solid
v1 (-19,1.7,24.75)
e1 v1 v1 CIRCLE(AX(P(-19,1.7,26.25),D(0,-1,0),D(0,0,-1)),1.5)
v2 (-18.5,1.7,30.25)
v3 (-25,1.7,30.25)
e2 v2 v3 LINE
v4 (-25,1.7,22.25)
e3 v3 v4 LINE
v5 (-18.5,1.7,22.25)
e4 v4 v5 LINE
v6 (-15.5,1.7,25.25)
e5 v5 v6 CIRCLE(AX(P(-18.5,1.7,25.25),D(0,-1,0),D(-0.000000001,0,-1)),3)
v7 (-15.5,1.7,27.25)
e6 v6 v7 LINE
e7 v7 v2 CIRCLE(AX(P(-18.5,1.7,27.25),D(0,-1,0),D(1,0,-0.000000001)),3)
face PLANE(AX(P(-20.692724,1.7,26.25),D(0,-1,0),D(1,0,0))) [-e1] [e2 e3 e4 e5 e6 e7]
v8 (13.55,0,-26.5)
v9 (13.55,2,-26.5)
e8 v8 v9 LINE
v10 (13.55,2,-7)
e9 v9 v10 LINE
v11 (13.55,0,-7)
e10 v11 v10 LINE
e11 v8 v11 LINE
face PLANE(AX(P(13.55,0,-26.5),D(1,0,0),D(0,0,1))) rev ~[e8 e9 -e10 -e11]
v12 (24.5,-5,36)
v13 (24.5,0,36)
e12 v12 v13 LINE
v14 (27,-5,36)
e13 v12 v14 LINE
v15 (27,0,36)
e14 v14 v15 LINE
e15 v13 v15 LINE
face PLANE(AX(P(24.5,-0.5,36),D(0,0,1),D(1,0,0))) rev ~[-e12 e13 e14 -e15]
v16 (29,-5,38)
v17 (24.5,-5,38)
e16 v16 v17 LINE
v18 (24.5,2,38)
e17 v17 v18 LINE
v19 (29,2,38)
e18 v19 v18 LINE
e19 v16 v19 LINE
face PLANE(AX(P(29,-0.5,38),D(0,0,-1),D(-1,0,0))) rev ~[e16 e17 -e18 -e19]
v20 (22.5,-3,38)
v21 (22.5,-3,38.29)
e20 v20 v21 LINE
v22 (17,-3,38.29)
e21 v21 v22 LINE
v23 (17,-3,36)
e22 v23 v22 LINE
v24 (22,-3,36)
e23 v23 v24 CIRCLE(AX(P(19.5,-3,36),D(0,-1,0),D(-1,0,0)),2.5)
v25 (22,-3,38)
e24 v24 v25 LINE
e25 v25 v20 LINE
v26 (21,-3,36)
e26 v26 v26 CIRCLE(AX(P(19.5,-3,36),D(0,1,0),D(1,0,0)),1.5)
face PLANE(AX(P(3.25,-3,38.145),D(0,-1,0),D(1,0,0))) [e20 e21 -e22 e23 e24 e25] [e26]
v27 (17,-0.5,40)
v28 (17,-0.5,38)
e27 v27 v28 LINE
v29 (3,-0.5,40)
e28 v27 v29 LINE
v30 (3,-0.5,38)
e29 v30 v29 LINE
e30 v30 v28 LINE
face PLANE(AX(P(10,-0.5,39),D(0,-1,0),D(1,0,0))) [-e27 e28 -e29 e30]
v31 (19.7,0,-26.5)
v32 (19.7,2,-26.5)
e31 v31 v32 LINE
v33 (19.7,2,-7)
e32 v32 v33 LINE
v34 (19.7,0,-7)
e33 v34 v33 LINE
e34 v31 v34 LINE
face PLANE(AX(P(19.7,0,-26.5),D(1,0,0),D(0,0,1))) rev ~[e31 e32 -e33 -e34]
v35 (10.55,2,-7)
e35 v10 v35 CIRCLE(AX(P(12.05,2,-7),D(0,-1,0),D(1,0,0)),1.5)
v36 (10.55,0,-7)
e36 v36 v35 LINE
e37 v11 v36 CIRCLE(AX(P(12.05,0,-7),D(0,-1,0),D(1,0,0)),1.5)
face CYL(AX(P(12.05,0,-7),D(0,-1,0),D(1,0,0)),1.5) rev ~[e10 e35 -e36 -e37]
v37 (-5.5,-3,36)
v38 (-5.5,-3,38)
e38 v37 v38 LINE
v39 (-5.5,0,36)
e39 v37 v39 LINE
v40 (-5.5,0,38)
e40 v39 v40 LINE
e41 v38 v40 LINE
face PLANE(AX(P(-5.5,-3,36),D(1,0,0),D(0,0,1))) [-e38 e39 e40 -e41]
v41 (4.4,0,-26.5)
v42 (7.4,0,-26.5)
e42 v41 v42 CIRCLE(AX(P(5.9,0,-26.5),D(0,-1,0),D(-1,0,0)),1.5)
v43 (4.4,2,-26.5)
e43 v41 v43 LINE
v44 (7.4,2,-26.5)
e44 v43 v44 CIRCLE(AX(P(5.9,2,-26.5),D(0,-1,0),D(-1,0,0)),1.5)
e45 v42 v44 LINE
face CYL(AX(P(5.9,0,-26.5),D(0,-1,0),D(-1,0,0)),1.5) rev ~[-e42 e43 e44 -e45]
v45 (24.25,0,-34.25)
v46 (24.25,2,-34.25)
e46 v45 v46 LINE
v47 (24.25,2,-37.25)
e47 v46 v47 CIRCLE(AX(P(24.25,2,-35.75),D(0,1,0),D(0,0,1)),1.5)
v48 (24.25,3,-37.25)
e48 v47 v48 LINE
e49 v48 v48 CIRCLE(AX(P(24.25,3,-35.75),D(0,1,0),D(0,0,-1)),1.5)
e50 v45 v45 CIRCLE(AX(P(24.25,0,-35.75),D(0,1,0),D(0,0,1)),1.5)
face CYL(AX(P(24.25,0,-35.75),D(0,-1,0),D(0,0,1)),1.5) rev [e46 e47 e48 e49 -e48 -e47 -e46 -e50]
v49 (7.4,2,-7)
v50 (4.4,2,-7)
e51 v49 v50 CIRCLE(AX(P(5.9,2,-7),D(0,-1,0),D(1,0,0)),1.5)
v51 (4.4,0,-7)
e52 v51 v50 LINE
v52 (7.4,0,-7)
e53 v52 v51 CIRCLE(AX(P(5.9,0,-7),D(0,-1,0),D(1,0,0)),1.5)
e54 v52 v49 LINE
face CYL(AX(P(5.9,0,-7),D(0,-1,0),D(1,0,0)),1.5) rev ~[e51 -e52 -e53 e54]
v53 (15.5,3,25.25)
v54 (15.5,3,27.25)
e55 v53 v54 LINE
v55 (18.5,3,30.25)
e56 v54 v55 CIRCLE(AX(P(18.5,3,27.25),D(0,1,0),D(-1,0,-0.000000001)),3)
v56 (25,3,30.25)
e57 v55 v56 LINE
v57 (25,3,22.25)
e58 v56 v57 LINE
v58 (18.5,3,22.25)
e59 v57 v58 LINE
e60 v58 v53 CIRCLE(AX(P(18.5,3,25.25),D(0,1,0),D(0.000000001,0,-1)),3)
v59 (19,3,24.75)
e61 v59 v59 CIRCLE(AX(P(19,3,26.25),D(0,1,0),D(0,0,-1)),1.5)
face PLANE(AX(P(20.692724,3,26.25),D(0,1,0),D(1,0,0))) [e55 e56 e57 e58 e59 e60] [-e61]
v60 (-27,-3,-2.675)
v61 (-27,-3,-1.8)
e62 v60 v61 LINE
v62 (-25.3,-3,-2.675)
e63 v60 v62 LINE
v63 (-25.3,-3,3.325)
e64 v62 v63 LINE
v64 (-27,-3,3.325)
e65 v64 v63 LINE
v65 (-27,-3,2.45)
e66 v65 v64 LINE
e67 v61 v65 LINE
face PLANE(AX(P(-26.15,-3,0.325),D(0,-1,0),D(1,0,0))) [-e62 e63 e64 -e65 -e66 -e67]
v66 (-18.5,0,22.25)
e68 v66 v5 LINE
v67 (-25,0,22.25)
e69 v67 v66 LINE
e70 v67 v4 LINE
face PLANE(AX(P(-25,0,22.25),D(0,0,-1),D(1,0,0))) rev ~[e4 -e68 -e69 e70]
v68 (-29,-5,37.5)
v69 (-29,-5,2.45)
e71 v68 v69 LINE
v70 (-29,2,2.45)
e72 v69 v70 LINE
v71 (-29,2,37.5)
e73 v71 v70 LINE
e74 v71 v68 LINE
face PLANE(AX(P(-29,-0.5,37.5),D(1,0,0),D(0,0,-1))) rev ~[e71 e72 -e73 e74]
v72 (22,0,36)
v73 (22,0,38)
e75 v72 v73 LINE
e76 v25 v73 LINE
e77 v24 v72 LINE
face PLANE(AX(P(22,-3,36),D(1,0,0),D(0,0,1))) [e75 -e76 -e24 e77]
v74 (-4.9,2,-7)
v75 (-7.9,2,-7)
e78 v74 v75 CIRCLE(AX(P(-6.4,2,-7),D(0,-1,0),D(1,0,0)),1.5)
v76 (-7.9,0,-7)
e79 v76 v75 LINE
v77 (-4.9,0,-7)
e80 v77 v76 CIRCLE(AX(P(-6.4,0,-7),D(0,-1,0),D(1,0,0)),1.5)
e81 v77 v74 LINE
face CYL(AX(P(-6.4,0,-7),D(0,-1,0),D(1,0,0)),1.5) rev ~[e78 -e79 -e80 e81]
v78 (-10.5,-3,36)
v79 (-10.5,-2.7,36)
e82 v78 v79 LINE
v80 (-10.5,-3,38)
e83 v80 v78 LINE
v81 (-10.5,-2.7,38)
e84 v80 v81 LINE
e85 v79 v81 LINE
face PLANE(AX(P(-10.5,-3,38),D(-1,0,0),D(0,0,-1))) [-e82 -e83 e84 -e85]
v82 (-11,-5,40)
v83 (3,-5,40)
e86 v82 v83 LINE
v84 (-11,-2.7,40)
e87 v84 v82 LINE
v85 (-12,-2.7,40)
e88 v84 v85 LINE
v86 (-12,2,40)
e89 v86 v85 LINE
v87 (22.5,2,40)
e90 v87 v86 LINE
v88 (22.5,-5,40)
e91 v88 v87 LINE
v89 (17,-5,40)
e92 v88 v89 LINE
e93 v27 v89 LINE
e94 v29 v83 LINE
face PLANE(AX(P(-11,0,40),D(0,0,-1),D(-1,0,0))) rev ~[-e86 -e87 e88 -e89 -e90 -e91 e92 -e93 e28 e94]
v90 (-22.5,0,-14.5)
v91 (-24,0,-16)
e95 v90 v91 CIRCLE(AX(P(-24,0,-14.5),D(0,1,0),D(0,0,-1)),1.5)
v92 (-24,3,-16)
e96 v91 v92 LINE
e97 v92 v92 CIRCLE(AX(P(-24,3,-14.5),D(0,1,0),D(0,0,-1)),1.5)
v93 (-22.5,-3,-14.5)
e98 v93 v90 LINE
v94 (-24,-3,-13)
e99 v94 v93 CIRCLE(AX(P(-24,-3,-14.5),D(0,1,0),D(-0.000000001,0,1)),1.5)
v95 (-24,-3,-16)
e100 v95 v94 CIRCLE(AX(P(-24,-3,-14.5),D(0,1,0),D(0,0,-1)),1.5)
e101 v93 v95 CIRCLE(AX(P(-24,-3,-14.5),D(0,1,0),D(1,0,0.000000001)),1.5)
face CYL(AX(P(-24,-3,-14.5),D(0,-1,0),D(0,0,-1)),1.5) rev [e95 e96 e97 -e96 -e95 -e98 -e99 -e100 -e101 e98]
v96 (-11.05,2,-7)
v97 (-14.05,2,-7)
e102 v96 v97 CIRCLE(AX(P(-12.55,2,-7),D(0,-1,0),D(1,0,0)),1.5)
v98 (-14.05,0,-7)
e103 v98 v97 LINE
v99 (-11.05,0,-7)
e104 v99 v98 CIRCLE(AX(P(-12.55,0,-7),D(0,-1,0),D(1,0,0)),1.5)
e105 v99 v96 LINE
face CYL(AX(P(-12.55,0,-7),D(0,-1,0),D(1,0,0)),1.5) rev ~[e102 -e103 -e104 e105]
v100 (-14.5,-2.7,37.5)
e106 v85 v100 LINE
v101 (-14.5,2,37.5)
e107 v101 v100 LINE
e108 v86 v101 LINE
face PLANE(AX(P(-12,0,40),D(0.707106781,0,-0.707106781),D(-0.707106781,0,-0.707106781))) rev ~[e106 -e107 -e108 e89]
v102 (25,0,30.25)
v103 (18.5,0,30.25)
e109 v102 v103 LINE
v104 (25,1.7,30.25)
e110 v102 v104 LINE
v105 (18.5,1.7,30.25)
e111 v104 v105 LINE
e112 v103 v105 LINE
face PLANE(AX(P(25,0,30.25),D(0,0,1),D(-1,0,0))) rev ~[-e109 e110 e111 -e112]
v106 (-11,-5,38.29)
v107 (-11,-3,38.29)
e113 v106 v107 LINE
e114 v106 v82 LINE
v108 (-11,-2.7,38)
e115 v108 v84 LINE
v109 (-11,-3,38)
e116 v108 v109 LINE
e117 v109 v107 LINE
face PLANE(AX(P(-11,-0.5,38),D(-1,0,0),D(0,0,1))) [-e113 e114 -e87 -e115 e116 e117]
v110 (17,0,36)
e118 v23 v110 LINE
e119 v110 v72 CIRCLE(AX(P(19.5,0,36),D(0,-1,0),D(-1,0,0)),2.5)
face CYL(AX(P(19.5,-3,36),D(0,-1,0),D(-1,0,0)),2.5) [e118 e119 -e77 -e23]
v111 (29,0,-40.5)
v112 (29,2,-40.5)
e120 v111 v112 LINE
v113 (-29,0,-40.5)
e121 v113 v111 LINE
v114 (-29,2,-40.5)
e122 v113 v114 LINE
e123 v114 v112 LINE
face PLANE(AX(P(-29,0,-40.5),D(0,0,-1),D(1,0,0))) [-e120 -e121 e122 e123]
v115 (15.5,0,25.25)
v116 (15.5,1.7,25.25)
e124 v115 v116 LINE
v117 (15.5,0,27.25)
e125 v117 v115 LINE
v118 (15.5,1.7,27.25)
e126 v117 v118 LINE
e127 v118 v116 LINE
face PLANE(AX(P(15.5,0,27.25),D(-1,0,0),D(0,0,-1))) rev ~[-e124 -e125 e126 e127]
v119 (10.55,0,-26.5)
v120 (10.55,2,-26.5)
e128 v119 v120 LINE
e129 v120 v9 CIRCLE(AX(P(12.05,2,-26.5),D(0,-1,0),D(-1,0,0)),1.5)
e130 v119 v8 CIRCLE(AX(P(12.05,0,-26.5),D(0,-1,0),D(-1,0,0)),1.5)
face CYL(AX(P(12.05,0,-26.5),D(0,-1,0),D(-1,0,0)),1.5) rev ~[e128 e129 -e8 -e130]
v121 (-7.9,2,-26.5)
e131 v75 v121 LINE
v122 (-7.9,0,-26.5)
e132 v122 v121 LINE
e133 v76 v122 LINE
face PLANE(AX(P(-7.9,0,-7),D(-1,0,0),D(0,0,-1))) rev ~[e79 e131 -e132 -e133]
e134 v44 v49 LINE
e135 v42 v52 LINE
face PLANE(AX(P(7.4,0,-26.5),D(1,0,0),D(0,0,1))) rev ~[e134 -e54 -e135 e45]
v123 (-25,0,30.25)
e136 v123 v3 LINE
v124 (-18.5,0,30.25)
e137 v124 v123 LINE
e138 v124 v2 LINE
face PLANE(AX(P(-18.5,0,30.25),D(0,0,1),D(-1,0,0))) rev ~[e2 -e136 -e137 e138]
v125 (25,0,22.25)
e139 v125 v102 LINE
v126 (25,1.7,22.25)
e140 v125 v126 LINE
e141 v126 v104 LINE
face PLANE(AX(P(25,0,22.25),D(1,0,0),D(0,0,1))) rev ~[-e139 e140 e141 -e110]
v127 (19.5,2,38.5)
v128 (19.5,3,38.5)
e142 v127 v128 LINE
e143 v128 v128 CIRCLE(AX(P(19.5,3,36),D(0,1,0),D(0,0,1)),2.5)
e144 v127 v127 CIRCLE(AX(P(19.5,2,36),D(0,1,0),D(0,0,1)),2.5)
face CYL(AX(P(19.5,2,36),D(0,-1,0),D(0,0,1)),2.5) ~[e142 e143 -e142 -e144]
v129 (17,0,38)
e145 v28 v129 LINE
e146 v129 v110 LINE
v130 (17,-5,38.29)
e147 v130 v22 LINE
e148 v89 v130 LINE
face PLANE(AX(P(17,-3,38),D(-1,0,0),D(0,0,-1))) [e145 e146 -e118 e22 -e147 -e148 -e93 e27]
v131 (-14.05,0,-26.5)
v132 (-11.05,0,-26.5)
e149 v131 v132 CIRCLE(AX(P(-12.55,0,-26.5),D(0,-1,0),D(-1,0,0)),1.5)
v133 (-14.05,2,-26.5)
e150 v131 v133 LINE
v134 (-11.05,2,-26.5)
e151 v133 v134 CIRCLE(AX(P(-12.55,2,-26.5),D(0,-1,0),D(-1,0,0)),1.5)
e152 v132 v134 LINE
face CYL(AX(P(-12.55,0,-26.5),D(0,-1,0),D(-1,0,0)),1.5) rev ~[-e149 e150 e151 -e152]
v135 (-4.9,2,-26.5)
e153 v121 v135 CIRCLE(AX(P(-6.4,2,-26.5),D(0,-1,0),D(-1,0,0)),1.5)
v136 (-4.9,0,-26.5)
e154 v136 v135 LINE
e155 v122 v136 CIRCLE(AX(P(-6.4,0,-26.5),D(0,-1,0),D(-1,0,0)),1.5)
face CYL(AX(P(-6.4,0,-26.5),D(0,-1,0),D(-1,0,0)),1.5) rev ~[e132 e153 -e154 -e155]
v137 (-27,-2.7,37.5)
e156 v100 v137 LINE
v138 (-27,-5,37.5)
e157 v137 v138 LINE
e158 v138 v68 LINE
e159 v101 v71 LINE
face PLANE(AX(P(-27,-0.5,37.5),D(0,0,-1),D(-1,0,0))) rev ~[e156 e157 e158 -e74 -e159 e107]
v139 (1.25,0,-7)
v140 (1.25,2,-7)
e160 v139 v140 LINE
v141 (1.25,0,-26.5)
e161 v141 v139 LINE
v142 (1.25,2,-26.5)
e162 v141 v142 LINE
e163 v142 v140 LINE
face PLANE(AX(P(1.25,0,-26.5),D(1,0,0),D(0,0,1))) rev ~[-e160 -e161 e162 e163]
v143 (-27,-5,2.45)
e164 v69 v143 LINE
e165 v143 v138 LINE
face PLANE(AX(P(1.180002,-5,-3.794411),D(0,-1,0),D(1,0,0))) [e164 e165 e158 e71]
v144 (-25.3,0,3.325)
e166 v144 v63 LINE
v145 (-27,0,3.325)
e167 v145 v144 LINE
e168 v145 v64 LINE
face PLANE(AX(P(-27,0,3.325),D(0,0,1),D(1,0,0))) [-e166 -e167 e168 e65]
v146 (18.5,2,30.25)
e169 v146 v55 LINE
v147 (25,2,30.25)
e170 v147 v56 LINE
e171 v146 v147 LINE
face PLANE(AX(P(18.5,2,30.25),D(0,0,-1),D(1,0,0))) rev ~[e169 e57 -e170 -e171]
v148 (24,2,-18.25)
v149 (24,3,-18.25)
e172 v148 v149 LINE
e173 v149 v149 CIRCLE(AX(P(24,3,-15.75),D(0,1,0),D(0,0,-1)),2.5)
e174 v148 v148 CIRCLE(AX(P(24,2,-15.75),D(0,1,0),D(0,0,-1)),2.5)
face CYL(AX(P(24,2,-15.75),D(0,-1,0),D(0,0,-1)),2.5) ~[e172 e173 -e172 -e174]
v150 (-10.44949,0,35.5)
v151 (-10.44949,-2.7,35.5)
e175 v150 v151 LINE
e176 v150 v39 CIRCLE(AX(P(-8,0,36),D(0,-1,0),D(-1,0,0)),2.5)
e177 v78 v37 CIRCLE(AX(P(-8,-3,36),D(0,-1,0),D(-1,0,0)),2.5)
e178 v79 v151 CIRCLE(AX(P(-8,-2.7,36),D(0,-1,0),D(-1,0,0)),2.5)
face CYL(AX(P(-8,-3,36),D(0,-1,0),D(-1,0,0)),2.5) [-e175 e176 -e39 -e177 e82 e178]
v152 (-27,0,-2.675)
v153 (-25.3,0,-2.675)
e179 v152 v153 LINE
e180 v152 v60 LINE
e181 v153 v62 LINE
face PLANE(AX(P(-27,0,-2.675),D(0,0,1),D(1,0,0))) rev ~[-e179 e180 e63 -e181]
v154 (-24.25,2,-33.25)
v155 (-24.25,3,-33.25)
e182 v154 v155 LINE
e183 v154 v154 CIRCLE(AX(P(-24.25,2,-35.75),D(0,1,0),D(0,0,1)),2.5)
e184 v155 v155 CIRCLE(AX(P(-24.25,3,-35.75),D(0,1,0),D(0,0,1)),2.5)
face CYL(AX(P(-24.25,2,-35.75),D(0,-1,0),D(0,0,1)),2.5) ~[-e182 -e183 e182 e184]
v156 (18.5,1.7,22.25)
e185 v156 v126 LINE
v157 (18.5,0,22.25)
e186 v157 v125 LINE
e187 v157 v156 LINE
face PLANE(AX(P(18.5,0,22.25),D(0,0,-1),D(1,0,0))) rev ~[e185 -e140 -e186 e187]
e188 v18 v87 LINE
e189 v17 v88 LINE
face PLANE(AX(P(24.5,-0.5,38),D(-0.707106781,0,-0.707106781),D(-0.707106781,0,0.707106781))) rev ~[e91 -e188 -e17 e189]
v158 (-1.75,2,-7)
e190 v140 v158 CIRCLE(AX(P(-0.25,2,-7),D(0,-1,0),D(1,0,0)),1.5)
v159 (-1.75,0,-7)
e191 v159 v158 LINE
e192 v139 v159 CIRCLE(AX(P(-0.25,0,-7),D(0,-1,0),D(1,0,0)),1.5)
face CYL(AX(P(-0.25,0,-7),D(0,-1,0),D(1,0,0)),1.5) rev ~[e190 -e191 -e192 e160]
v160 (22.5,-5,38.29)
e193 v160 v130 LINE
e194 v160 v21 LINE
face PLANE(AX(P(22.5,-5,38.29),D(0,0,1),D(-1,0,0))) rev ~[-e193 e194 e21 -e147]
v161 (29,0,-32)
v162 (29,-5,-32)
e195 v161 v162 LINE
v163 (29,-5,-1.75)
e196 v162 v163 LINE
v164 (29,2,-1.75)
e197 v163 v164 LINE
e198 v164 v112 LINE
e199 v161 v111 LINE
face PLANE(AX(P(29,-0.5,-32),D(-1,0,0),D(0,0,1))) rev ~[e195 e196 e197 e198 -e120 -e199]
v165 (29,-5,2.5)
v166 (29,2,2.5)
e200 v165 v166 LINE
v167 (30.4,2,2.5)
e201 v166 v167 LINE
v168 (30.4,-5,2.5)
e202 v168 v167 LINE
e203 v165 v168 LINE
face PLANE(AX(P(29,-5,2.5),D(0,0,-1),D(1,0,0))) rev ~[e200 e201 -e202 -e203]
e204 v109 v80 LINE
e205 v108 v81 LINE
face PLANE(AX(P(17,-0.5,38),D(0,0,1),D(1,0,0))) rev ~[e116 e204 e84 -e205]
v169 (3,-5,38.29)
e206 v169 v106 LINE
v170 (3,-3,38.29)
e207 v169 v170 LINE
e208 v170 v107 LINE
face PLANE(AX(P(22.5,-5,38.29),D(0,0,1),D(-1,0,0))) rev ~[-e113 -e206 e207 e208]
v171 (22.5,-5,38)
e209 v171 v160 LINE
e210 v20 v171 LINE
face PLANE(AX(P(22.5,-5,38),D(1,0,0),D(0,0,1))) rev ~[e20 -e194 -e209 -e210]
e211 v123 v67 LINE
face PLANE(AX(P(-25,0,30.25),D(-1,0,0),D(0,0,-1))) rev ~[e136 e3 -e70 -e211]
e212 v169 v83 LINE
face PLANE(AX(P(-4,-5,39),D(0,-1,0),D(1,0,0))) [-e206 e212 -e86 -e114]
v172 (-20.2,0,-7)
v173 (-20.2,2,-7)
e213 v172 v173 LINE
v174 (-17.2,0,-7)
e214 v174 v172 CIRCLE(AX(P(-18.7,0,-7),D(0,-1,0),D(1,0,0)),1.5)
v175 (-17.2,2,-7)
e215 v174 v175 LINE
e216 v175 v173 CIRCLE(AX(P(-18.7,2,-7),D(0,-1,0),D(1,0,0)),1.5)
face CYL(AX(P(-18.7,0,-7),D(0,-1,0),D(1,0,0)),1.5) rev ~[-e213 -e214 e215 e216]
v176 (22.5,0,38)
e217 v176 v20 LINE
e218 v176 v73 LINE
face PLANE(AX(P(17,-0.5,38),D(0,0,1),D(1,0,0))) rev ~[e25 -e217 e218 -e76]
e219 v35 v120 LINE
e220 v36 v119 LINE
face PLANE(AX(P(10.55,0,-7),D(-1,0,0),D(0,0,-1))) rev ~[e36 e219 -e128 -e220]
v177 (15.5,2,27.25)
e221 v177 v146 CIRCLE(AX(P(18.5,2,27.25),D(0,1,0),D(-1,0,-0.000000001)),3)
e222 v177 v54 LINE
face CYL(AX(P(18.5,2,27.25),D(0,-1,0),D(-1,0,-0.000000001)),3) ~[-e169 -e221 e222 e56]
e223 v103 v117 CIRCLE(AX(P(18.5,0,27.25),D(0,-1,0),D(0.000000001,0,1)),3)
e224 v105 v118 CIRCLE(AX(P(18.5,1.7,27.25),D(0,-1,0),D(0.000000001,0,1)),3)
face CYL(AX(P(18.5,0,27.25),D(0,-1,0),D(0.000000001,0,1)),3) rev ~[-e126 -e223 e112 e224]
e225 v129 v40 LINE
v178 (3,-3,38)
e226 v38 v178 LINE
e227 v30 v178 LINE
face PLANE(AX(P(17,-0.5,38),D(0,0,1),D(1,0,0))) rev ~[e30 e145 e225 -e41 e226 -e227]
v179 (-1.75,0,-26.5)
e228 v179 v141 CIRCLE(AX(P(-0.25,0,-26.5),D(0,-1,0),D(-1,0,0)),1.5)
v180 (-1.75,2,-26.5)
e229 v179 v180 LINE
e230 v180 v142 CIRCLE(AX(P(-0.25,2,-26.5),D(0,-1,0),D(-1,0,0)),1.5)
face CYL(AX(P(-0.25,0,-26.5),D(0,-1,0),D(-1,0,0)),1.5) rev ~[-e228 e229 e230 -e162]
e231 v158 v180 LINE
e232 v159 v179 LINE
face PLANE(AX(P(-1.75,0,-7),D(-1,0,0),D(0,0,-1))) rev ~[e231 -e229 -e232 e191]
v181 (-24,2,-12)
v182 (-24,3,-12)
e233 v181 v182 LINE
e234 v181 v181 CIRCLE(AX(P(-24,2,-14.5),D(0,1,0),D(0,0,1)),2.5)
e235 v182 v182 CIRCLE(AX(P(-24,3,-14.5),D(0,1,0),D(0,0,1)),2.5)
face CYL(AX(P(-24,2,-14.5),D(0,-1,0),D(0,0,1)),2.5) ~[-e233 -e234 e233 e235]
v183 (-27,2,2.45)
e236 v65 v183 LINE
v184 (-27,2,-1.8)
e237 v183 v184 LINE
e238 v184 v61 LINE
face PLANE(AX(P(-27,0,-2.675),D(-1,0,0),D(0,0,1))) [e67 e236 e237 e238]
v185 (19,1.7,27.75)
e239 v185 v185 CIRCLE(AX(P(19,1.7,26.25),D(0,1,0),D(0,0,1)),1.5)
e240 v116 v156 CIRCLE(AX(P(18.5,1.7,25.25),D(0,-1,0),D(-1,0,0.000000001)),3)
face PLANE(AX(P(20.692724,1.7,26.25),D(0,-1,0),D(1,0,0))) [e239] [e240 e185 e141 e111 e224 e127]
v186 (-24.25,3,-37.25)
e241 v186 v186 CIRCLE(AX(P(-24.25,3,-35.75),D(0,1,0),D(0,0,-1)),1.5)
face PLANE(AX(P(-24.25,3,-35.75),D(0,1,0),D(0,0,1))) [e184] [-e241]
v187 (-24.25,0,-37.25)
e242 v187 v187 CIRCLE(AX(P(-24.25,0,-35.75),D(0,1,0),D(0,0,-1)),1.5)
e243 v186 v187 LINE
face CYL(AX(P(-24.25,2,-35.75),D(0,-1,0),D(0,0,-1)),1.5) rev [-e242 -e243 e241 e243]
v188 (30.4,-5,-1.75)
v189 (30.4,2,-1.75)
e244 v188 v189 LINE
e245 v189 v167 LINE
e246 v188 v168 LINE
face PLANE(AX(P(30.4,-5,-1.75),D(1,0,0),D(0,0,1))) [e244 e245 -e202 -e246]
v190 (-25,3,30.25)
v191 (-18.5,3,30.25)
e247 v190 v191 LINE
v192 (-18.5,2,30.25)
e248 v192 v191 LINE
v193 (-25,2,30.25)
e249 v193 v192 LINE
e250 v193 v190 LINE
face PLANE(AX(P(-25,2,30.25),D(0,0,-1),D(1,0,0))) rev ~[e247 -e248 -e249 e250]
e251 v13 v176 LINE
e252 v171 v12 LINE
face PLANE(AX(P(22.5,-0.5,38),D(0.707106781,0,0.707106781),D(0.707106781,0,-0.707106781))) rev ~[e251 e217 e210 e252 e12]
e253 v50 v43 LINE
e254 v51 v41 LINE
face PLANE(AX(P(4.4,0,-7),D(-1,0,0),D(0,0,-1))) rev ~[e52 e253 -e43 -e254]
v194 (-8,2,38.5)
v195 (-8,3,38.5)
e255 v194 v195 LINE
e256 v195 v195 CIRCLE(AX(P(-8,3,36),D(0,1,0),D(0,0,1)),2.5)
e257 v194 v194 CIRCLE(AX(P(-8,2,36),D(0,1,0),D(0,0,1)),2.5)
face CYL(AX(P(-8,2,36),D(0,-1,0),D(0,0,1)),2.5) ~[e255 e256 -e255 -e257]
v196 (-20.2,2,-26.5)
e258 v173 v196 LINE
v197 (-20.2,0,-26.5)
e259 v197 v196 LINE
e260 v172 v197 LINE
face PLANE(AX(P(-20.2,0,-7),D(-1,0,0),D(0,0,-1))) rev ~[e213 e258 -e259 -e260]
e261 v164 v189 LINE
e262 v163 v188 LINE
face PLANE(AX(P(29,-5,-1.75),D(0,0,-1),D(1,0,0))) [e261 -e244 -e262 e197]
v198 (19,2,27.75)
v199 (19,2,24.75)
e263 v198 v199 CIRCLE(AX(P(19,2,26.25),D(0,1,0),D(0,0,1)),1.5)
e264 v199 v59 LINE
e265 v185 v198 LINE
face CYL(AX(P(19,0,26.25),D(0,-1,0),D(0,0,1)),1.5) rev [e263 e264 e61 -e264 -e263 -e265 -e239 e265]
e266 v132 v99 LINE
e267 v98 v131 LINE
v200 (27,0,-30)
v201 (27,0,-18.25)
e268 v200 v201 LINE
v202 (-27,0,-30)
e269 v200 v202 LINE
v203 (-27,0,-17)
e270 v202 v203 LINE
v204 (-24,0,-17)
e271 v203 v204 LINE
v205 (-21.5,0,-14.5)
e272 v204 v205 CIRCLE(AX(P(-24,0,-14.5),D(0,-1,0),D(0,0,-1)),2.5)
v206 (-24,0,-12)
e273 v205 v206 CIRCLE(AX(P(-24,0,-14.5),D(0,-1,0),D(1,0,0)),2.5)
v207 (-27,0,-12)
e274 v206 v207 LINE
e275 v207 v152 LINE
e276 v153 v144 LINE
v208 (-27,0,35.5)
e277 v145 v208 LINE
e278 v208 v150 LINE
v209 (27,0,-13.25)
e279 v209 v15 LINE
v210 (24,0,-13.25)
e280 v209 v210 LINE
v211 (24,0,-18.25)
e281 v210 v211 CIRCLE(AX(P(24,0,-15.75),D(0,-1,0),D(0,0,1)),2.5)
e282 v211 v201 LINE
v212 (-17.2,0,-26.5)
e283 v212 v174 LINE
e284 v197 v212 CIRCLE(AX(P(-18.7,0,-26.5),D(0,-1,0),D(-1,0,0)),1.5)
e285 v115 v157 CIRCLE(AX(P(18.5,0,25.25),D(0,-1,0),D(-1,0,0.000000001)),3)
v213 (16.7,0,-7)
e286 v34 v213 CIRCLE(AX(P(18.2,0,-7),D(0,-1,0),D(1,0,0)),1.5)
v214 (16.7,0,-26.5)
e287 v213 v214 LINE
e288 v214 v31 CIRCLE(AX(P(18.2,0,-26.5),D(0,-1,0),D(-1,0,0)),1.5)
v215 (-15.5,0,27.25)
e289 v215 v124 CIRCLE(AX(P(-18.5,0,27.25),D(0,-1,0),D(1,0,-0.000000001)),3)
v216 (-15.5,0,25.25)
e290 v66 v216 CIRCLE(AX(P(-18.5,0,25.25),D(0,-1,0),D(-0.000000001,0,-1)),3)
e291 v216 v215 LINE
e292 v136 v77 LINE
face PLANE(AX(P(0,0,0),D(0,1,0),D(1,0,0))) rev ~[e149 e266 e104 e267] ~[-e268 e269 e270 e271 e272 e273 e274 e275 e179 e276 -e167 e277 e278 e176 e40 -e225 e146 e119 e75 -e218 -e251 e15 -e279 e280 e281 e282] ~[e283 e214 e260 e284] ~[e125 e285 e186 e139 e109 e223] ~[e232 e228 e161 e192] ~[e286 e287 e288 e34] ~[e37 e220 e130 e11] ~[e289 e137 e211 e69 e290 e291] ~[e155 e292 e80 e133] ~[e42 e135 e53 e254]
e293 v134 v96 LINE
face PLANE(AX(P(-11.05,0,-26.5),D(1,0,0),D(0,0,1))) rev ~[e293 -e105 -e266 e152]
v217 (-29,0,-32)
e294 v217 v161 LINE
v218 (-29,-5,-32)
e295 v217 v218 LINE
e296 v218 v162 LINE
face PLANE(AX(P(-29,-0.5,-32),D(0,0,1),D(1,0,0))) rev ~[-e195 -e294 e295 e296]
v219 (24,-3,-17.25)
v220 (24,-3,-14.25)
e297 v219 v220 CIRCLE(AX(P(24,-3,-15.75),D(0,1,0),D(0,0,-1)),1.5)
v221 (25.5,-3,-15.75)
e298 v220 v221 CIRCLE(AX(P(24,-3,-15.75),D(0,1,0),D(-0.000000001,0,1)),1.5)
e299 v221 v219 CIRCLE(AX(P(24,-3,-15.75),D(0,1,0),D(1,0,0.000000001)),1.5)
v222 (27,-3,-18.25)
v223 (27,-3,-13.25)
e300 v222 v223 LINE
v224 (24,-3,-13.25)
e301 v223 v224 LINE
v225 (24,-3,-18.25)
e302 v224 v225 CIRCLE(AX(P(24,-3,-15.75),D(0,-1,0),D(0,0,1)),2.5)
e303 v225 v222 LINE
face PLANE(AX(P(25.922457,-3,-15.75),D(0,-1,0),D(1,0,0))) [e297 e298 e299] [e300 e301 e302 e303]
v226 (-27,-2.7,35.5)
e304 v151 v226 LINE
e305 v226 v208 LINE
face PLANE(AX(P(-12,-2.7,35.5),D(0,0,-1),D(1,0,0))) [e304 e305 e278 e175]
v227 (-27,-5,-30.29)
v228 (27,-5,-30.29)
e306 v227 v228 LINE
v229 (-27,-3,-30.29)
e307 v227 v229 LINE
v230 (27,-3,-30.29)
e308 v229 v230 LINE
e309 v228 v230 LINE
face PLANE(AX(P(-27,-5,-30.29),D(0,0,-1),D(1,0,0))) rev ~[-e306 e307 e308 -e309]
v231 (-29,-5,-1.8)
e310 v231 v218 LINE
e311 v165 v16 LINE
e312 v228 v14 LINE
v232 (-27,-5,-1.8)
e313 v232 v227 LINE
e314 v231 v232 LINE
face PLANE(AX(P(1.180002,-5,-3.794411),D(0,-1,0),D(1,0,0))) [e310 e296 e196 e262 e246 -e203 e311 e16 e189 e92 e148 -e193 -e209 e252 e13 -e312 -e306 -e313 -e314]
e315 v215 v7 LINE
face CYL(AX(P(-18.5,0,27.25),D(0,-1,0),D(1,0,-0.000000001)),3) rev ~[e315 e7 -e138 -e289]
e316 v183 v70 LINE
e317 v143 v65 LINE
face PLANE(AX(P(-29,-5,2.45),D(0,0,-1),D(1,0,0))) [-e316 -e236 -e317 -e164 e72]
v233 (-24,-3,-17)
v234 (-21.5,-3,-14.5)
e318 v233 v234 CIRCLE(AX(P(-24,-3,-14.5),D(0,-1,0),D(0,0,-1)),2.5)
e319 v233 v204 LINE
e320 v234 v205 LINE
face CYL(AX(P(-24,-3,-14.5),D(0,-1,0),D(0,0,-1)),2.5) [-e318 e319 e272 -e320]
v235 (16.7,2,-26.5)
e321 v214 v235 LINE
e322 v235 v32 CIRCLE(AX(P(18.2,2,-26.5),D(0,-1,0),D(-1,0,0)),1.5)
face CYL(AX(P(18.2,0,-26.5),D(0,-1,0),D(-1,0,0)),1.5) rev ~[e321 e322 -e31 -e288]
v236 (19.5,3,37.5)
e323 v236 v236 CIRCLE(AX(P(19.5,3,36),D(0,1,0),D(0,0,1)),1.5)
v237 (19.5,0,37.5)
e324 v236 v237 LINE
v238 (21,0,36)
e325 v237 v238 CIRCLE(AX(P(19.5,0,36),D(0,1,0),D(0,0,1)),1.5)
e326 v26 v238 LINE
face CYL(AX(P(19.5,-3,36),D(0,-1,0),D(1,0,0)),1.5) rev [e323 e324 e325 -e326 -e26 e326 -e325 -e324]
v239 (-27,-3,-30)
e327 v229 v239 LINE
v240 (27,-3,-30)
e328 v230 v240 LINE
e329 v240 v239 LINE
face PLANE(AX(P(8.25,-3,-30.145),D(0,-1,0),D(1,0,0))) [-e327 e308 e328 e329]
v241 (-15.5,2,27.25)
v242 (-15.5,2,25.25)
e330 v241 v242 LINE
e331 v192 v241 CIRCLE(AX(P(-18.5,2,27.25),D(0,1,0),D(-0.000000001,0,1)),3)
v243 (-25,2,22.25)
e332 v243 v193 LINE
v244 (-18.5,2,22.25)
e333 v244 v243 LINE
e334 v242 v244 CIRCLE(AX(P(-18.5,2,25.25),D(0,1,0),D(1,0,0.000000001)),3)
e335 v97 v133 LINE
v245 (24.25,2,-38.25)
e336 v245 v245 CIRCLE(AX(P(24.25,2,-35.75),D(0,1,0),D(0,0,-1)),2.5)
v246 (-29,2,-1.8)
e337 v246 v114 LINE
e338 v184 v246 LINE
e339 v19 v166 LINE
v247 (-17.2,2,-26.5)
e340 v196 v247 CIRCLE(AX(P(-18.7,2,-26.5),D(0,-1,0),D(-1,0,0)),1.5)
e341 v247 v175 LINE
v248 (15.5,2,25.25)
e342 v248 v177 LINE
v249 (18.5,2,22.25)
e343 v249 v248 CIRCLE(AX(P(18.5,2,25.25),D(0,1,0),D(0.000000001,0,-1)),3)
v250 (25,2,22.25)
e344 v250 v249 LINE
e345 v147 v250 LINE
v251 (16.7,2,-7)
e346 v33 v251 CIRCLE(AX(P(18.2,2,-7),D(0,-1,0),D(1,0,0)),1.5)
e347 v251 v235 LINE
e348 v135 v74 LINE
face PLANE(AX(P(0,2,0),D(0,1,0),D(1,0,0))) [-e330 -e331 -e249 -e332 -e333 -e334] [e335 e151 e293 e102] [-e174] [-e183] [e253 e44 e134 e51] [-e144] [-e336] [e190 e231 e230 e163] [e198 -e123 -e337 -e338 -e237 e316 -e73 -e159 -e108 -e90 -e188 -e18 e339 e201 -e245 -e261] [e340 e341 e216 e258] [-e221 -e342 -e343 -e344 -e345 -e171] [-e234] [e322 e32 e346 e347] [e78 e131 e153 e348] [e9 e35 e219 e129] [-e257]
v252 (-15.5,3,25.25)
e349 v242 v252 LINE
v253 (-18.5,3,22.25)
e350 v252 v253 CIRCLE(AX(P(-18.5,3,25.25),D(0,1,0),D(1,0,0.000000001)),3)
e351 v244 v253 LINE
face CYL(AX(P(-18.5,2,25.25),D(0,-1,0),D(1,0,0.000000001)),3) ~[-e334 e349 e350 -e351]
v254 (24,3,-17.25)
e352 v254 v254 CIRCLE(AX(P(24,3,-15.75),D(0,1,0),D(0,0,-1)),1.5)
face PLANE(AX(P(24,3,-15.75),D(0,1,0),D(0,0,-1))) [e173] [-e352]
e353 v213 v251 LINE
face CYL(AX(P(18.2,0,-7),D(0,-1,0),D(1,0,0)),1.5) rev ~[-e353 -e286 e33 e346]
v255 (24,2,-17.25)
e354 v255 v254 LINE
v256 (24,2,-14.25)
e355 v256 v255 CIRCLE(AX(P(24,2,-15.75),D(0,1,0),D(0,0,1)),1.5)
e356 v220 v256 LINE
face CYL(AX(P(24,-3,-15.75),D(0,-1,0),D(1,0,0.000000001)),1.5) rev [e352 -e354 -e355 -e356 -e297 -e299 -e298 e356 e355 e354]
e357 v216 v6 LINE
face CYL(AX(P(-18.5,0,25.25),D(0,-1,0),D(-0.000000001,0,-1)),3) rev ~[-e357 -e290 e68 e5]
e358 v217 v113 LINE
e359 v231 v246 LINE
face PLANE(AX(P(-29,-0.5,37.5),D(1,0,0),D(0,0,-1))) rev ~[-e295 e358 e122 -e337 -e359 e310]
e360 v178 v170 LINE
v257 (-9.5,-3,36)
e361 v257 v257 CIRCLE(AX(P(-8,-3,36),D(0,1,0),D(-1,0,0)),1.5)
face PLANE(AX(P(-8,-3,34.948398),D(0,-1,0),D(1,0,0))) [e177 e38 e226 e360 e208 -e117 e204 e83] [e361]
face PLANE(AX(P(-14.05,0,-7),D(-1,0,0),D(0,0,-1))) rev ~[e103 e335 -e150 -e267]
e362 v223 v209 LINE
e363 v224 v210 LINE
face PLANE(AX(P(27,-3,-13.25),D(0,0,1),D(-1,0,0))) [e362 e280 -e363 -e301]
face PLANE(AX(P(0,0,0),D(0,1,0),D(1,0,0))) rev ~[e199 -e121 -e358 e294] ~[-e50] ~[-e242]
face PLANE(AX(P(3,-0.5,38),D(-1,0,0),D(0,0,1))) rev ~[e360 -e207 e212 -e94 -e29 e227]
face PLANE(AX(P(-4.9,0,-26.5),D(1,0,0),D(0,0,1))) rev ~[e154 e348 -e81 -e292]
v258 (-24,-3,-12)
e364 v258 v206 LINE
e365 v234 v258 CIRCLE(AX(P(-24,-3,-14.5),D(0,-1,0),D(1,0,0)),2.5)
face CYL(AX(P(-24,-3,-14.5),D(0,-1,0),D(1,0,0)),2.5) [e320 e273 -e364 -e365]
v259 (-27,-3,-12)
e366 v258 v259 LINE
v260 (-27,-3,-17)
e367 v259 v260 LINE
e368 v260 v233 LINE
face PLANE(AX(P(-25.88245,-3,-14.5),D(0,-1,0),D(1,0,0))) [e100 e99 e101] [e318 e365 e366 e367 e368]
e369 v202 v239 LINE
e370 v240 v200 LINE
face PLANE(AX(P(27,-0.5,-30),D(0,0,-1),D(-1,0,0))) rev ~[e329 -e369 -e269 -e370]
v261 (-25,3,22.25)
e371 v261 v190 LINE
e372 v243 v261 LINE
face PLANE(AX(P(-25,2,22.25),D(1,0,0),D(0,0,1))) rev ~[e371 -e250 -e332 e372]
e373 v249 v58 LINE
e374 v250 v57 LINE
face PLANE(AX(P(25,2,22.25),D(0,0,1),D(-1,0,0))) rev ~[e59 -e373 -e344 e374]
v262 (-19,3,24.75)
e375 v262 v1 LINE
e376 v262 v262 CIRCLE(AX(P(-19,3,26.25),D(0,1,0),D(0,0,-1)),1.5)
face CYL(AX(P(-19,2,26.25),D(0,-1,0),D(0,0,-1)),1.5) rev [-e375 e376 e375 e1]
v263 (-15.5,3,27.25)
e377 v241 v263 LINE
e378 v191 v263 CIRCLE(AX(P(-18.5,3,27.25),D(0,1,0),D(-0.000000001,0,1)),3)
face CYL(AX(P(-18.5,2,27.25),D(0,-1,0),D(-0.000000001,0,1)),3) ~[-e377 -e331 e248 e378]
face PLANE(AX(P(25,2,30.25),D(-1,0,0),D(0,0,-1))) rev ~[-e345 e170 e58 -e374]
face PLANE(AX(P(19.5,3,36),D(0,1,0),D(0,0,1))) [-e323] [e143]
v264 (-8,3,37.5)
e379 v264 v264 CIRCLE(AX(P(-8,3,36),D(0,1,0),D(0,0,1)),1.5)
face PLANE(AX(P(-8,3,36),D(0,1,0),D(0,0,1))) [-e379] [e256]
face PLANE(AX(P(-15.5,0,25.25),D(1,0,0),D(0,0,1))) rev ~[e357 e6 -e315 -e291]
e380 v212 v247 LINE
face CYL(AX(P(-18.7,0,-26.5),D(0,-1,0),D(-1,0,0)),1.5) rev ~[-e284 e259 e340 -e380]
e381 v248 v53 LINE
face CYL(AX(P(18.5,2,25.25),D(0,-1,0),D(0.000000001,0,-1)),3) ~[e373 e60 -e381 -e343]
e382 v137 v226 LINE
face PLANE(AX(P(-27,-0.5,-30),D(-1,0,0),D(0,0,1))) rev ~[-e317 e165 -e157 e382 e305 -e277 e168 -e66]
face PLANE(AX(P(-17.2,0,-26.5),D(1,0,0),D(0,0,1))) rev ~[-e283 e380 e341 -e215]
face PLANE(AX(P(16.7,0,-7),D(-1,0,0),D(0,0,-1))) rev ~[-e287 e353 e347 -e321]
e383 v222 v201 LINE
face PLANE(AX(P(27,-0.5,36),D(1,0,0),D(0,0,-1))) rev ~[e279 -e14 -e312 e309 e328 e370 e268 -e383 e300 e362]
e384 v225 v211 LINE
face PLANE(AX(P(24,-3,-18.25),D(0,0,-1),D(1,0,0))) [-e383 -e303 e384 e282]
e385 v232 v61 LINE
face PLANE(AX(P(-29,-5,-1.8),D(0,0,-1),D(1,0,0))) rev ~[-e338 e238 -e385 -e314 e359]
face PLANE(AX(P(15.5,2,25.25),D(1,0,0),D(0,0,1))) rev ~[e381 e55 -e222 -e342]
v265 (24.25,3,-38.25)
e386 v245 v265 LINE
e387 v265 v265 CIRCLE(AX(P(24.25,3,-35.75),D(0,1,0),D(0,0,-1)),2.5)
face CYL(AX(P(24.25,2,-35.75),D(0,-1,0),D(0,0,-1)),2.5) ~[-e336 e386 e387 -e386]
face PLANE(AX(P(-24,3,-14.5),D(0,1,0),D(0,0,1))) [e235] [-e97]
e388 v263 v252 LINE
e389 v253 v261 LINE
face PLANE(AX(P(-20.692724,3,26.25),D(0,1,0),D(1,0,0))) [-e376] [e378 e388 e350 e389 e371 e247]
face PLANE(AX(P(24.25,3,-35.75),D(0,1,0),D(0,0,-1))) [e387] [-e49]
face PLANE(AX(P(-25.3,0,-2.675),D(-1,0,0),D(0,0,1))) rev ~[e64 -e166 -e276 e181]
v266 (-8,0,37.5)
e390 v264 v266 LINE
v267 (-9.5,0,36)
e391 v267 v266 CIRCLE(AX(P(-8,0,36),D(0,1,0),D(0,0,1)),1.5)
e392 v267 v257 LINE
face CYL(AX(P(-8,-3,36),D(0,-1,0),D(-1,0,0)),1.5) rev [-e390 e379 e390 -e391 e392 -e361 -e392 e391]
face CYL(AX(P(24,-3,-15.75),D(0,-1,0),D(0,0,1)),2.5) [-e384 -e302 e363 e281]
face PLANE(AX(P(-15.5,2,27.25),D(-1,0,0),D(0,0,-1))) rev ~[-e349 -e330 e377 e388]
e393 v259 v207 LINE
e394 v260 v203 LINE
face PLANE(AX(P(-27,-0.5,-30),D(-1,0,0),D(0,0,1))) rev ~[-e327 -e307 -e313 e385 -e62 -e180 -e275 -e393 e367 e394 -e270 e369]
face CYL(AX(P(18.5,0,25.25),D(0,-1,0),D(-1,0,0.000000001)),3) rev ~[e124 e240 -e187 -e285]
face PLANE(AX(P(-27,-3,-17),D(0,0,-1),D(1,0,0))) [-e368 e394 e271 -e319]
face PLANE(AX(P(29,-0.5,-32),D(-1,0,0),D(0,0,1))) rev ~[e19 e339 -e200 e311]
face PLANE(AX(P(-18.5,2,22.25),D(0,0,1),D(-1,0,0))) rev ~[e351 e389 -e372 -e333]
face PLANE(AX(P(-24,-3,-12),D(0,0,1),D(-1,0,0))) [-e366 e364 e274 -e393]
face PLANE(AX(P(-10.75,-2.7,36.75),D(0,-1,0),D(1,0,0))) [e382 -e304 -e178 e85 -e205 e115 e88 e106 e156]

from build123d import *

# Parameters (mm, degrees)
SKETCH1_W            = 58
SKETCH1_H            = 81
SKETCH1_R            = 1.5
BOSS_EXTRUDE1_DEPTH  = 2
SKETCH2_W            = 14
SKETCH2_H            = 2
SKETCH2_W_2          = 2
SKETCH2_H_2          = 65.5
SKETCH2_H_3          = 66
SKETCH2_W_3          = 2.5
SKETCH2_W_4          = 15
BOSS_EXTRUDE2_DEPTH  = 0.5
SKETCH5_W            = 14
SKETCH5_H            = 2
BOSS_EXTRUDE3_DEPTH  = 4.5
BOSS_EXTRUDE4_DEPTH  = 2.7
SKETCH7_R            = 1.5
CUT_EXTRUDE1_DEPTH   = 1.7
SKETCH8_R            = 1.5
BOSS_EXTRUDE5_DEPTH  = 1
SKETCH9_R            = 2.5
SKETCH9_R_2          = 1.5
BOSS_EXTRUDE6_DEPTH  = 1
BOSS_EXTRUDE7_START  = 3
BOSS_EXTRUDE7_DEPTH  = 3
SKETCH11_W           = 2
SKETCH11_H           = 4.25
CUT_EXTRUDE2_DEPTH   = 51.450470761
SKETCH12_W           = 1.7
SKETCH12_H           = 6
BOSS_EXTRUDE8_DEPTH  = 3
SKETCH13_W           = 1.4
SKETCH13_H           = 4.25
BOSS_EXTRUDE9_DEPTH  = 7
SKETCH14_W           = 2.5
SKETCH14_H           = 2.5
BOSS_EXTRUDE10_DEPTH = 2.7
CUT_EXTRUDE3_DEPTH   = 51.886245686
SKETCH17_W           = 27.5
SKETCH17_H           = 0.29
SKETCH17_W_2         = 5.5
SKETCH17_W_3         = 37.5
SKETCH17_W_4         = 16.5
SKETCH17_W_5         = 0.5
CUT_EXTRUDE4_DEPTH   = 2


with BuildPart() as part:
    # Sketch1 → Boss-Extrude1 (new body)
    with BuildSketch(Plane(origin=(0, 0, 0), x_dir=(1, 0, 0), z_dir=(0, 1, 0))):
        Rectangle(SKETCH1_W, SKETCH1_H)
        with Locations(Location((24.25, 35.75, 0), (0, 0, 270))):
            Circle(SKETCH1_R, mode=Mode.SUBTRACT)
        with Locations(Location((-24.25, 35.75, 0), (0, 0, 90))):
            Circle(SKETCH1_R, mode=Mode.SUBTRACT)
        with Locations(Location((24, 15.75, 0), (0, 0, 270))):
            Circle(SKETCH1_R, mode=Mode.SUBTRACT)
        with Locations(Location((-24, 14.5, 0), (0, 0, 90))):
            Circle(SKETCH1_R, mode=Mode.SUBTRACT)
        with Locations(Location((19, -26.25, 0), (0, 0, 270))):
            Circle(SKETCH1_R, mode=Mode.SUBTRACT)
        with Locations(Location((19.5, -36, 0), (0, 0, 270))):
            Circle(SKETCH1_R, mode=Mode.SUBTRACT)
        with Locations(Location((-8, -36, 0), (0, 0, 270))):
            Circle(SKETCH1_R, mode=Mode.SUBTRACT)
        with Locations(Location((-19, -26.25, 0), (0, 0, 90))):
            Circle(SKETCH1_R, mode=Mode.SUBTRACT)
        with BuildLine():
            Line((19.7, 26.5), (19.7, 7))
            ThreePointArc((19.7, 7), (18.2, 5.5), (16.7, 7))
            Line((16.7, 7), (16.7, 26.5))
            ThreePointArc((16.7, 26.5), (18.2, 28), (19.7, 26.5))
        make_face(mode=Mode.SUBTRACT)
        with BuildLine():
            Line((13.55, 26.5), (13.55, 7))
            ThreePointArc((13.55, 7), (12.05, 5.5), (10.55, 7))
            Line((10.55, 7), (10.55, 26.5))
            ThreePointArc((10.55, 26.5), (12.05, 28), (13.55, 26.5))
        make_face(mode=Mode.SUBTRACT)
        with BuildLine():
            Line((7.4, 26.5), (7.4, 7))
            ThreePointArc((7.4, 7), (5.9, 5.5), (4.4, 7))
            Line((4.4, 7), (4.4, 26.5))
            ThreePointArc((4.4, 26.5), (5.9, 28), (7.4, 26.5))
        make_face(mode=Mode.SUBTRACT)
        with BuildLine():
            Line((1.25, 26.5), (1.25, 7))
            ThreePointArc((1.25, 7), (-0.25, 5.5), (-1.75, 7))
            Line((-1.75, 7), (-1.75, 26.5))
            ThreePointArc((-1.75, 26.5), (-0.25, 28), (1.25, 26.5))
        make_face(mode=Mode.SUBTRACT)
        with BuildLine():
            Line((-4.9, 26.5), (-4.9, 7))
            ThreePointArc((-4.9, 7), (-6.4, 5.5), (-7.9, 7))
            Line((-7.9, 7), (-7.9, 26.5))
            ThreePointArc((-7.9, 26.5), (-6.4, 28), (-4.9, 26.5))
        make_face(mode=Mode.SUBTRACT)
        with BuildLine():
            Line((-11.05, 26.5), (-11.05, 7))
            ThreePointArc((-11.05, 7), (-12.55, 5.5), (-14.05, 7))
            Line((-14.05, 7), (-14.05, 26.5))
            ThreePointArc((-14.05, 26.5), (-12.55, 28), (-11.05, 26.5))
        make_face(mode=Mode.SUBTRACT)
        with BuildLine():
            Line((-17.2, 26.5), (-17.2, 7))
            ThreePointArc((-17.2, 7), (-18.7, 5.5), (-20.2, 7))
            Line((-20.2, 7), (-20.2, 26.5))
            ThreePointArc((-20.2, 26.5), (-18.7, 28), (-17.2, 26.5))
        make_face(mode=Mode.SUBTRACT)
    extrude(amount=BOSS_EXTRUDE1_DEPTH)

    # Sketch2 → Boss-Extrude2 (add)
    with BuildSketch(Plane.XZ):
        with Locations((10, 39)):
            Rectangle(SKETCH2_W, SKETCH2_H)
        with Locations((-28, 2.75)):
            Rectangle(SKETCH2_W_2, SKETCH2_H_2)
        Polygon((29, -30), (27, -30), (-27, -30), (-27, -32), (29, -32), align=None)
        with Locations((-28, -31)):
            Rectangle(SKETCH2_W_2, SKETCH2_H)
        with Locations((28, 3)):
            Rectangle(SKETCH2_W_2, SKETCH2_H_3)
        with Locations((25.75, 37)):
            Rectangle(SKETCH2_W_3, SKETCH2_H)
        with Locations((28, 37)):
            Rectangle(SKETCH2_W_2, SKETCH2_H)
        Polygon((22.5, 40), (24.5, 38), (24.5, 36), (22.5, 38), (17, 38), (17, 40), align=None)
        with Locations((-4.5, 39)):
            Rectangle(SKETCH2_W_4, SKETCH2_H)
        Polygon((-14.5, 37.5), (-12, 37.5), (-12, 38), (-12, 40), align=None)
        Polygon((-27, 37.5), (-27, 35.5), (-12, 35.5), (-12, 37.5), (-14.5, 37.5), align=None)
        with Locations((-28, 36.5)):
            Rectangle(SKETCH2_W_2, SKETCH2_H)
    extrude(amount=BOSS_EXTRUDE2_DEPTH)

    # Sketch5 → Boss-Extrude3 (add)
    with BuildSketch(Plane.XZ.offset(0.5)):
        Polygon((27, -30), (-27, -30), (-27, 37.5), (-29, 37.5), (-29, -32), (29, -32), (29, 38), (24.5, 38), (22.5, 40), (17, 40), (17, 38), (22.5, 38), (24.5, 36), (27, 36), align=None)
        with Locations((-4, 39)):
            Rectangle(SKETCH5_W, SKETCH5_H)
    extrude(amount=BOSS_EXTRUDE3_DEPTH)

    # Sketch6 → Boss-Extrude4 (add)
    with BuildSketch(Plane.XZ):
        Polygon((-11, 38), (-11, 40), (-12, 40), (-14.5, 37.5), (-27, 37.5), (-27, 35.5), (-12, 35.5), (-12, 38), align=None)
    extrude(amount=BOSS_EXTRUDE4_DEPTH)

    # Sketch7 → Cut-Extrude1 (cut)
    # profile 1 of 2: a face of its own
    with BuildSketch(Plane.XZ):
        with BuildLine():
            Line((-18.5, 30.25), (-25, 30.25))
            Line((-25, 30.25), (-25, 22.25))
            Line((-25, 22.25), (-18.5, 22.25))
            ThreePointArc((-18.5, 22.25), (-16.378679656, 23.128679656), (-15.5, 25.25))
            Line((-15.5, 25.25), (-15.5, 27.25))
            ThreePointArc((-15.5, 27.25), (-16.378679656, 29.371320344), (-18.5, 30.25))
        make_face()
        with Locations(Location((-19, 26.25, 0), (0, 0, 270))):
            Circle(SKETCH7_R, mode=Mode.SUBTRACT)
    # profile 2 of 2: a face of its own
    with BuildSketch(Plane.XZ):
        with BuildLine():
            ThreePointArc((18.5, 30.25), (16.378679656, 29.371320344), (15.5, 27.25))
            Line((15.5, 27.25), (15.5, 25.25))
            ThreePointArc((15.5, 25.25), (16.378679656, 23.128679656), (18.5, 22.25))
            Line((18.5, 22.25), (25, 22.25))
            Line((25, 22.25), (25, 30.25))
            Line((25, 30.25), (18.5, 30.25))
        make_face()
        with Locations(Location((19, 26.25, 0), (0, 0, 270))):
            Circle(SKETCH7_R, mode=Mode.SUBTRACT)
    extrude(amount=-CUT_EXTRUDE1_DEPTH, mode=Mode.SUBTRACT)

    # Sketch8 → Boss-Extrude5 (add)
    # profile 1 of 2: a face of its own
    with BuildSketch(Plane(origin=(0, 2, 0), x_dir=(1, 0, 0), z_dir=(0, 1, 0))):
        with BuildLine():
            Line((25, -22.25), (18.5, -22.25))
            ThreePointArc((18.5, -22.25), (16.378679656, -23.128679656), (15.5, -25.25))
            Line((15.5, -25.25), (15.5, -27.25))
            ThreePointArc((15.5, -27.25), (16.378679656, -29.371320344), (18.5, -30.25))
            Line((18.5, -30.25), (25, -30.25))
            Line((25, -30.25), (25, -22.25))
        make_face()
        with Locations(Location((19, -26.25, 0), (0, 0, 90))):
            Circle(SKETCH8_R, mode=Mode.SUBTRACT)
    # profile 2 of 2: a face of its own
    with BuildSketch(Plane(origin=(0, 2, 0), x_dir=(1, 0, 0), z_dir=(0, 1, 0))):
        with BuildLine():
            Line((-18.5, -22.25), (-25, -22.25))
            Line((-25, -22.25), (-25, -30.25))
            Line((-25, -30.25), (-18.5, -30.25))
            ThreePointArc((-18.5, -30.25), (-16.378679656, -29.371320344), (-15.5, -27.25))
            Line((-15.5, -27.25), (-15.5, -25.25))
            ThreePointArc((-15.5, -25.25), (-16.378679656, -23.128679656), (-18.5, -22.25))
        make_face()
        with Locations(Location((-19, -26.25, 0), (0, 0, 90))):
            Circle(SKETCH8_R, mode=Mode.SUBTRACT)
    extrude(amount=BOSS_EXTRUDE5_DEPTH)

    # Sketch9 → Boss-Extrude6 (add)
    # profile 1 of 6: a face of its own
    with BuildSketch(Plane(origin=(0, 2, 0), x_dir=(1, 0, 0), z_dir=(0, 1, 0))):
        with Locations(Location((-24.25, 35.75, 0), (0, 0, 270))):
            Circle(SKETCH9_R)
        with Locations(Location((-24.25, 35.75, 0), (0, 0, 90))):
            Circle(SKETCH9_R_2, mode=Mode.SUBTRACT)
    # profile 2 of 6: a face of its own
    with BuildSketch(Plane(origin=(0, 2, 0), x_dir=(1, 0, 0), z_dir=(0, 1, 0))):
        with Locations(Location((-24, 14.5, 0), (0, 0, 270))):
            Circle(SKETCH9_R)
        with Locations(Location((-24, 14.5, 0), (0, 0, 90))):
            Circle(SKETCH9_R_2, mode=Mode.SUBTRACT)
    # profile 3 of 6: a face of its own
    with BuildSketch(Plane(origin=(0, 2, 0), x_dir=(1, 0, 0), z_dir=(0, 1, 0))):
        with Locations(Location((-8, -36, 0), (0, 0, 270))):
            Circle(SKETCH9_R)
        with Locations(Location((-8, -36, 0), (0, 0, 270))):
            Circle(SKETCH9_R_2, mode=Mode.SUBTRACT)
    # profile 4 of 6: a face of its own
    with BuildSketch(Plane(origin=(0, 2, 0), x_dir=(1, 0, 0), z_dir=(0, 1, 0))):
        with Locations(Location((19.5, -36, 0), (0, 0, 270))):
            Circle(SKETCH9_R)
        with Locations(Location((19.5, -36, 0), (0, 0, 270))):
            Circle(SKETCH9_R_2, mode=Mode.SUBTRACT)
    # profile 5 of 6: a face of its own
    with BuildSketch(Plane(origin=(0, 2, 0), x_dir=(1, 0, 0), z_dir=(0, 1, 0))):
        with Locations(Location((24, 15.75, 0), (0, 0, 90))):
            Circle(SKETCH9_R)
        with Locations(Location((24, 15.75, 0), (0, 0, 90))):
            Circle(SKETCH9_R_2, mode=Mode.SUBTRACT)
    # profile 6 of 6: a face of its own
    with BuildSketch(Plane(origin=(0, 2, 0), x_dir=(1, 0, 0), z_dir=(0, 1, 0))):
        with Locations(Location((24.25, 35.75, 0), (0, 0, 90))):
            Circle(SKETCH9_R)
        with Locations(Location((24.25, 35.75, 0), (0, 0, 90))):
            Circle(SKETCH9_R_2, mode=Mode.SUBTRACT)
    extrude(amount=BOSS_EXTRUDE6_DEPTH)

    # Sketch10 → Boss-Extrude7 (add)
    with BuildSketch(Plane.XZ.offset(BOSS_EXTRUDE7_START)):
        with BuildLine():
            Line((-5.5, 36), (-6.5, 36))
            ThreePointArc((-6.5, 36), (-8, 34.5), (-9.5, 36))
            Line((-9.5, 36), (-10.5, 36))
            ThreePointArc((-10.5, 36), (-8, 33.5), (-5.5, 36))
        make_face()
        with BuildLine():
            ThreePointArc((-9.5, 36), (-8, 37.5), (-6.5, 36))
            Line((-6.5, 36), (-5.5, 36))
            ThreePointArc((-5.5, 36), (-5.763932023, 37.118033989), (-6.5, 38))
            Line((-6.5, 38), (-9.5, 38))
            ThreePointArc((-9.5, 38), (-10.236067977, 37.118033989), (-10.5, 36))
            Line((-10.5, 36), (-9.5, 36))
        make_face()
        with BuildLine():
            ThreePointArc((-6.5, 38), (-5.763932023, 37.118033989), (-5.5, 36))
            Line((-5.5, 36), (-5.5, 38))
            Line((-5.5, 38), (-6.5, 38))
        make_face()
        with BuildLine():
            Line((-10.5, 38), (-10.5, 36))
            ThreePointArc((-10.5, 36), (-10.236067977, 37.118033989), (-9.5, 38))
            Line((-9.5, 38), (-10.5, 38))
        make_face()
        with BuildLine():
            ThreePointArc((21, 38), (21.736067977, 37.118033989), (22, 36))
            Line((22, 36), (22, 38))
            Line((22, 38), (21, 38))
        make_face()
        with BuildLine():
            ThreePointArc((18, 36), (19.5, 37.5), (21, 36))
            Line((21, 36), (22, 36))
            ThreePointArc((22, 36), (21.736067977, 37.118033989), (21, 38))
            Line((21, 38), (18, 38))
            ThreePointArc((18, 38), (17.263932023, 37.118033989), (17, 36))
            Line((17, 36), (18, 36))
        make_face()
        with BuildLine():
            Line((22, 36), (21, 36))
            ThreePointArc((21, 36), (19.5, 34.5), (18, 36))
            Line((18, 36), (17, 36))
            ThreePointArc((17, 36), (19.5, 33.5), (22, 36))
        make_face()
        with BuildLine():
            Line((17, 38), (17, 36))
            ThreePointArc((17, 36), (17.263932023, 37.118033989), (18, 38))
            Line((18, 38), (17, 38))
        make_face()
        with BuildLine():
            Line((27, -18.25), (27, -13.25))
            Line((27, -13.25), (24, -13.25))
            ThreePointArc((24, -13.25), (25.767766953, -13.982233047), (26.5, -15.75))
            ThreePointArc((26.5, -15.75), (25.767766953, -17.517766953), (24, -18.25))
            Line((24, -18.25), (27, -18.25))
        make_face()
        with BuildLine():
            ThreePointArc((26.5, -15.75), (25.767766953, -13.982233047), (24, -13.25))
            Line((24, -13.25), (24, -14.25))
            ThreePointArc((24, -14.25), (25.060660172, -14.689339828), (25.5, -15.75))
            ThreePointArc((25.5, -15.75), (25.060660172, -16.810660172), (24, -17.25))
            Line((24, -17.25), (24, -18.25))
            ThreePointArc((24, -18.25), (25.767766953, -17.517766953), (26.5, -15.75))
        make_face()
        with BuildLine():
            Line((24, -14.25), (24, -13.25))
            ThreePointArc((24, -13.25), (21.5, -15.75), (24, -18.25))
            Line((24, -18.25), (24, -17.25))
            ThreePointArc((24, -17.25), (22.5, -15.75), (24, -14.25))
        make_face()
        with BuildLine():
            ThreePointArc((26.5, -15.75), (25.767766953, -13.982233047), (24, -13.25))
            Line((24, -13.25), (24, -14.25))
            ThreePointArc((24, -14.25), (25.060660172, -14.689339828), (25.5, -15.75))
            ThreePointArc((25.5, -15.75), (25.060660172, -16.810660172), (24, -17.25))
            Line((24, -17.25), (24, -18.25))
            ThreePointArc((24, -18.25), (25.767766953, -17.517766953), (26.5, -15.75))
        make_face()
        with BuildLine():
            Line((24, -14.25), (24, -13.25))
            ThreePointArc((24, -13.25), (21.5, -15.75), (24, -18.25))
            Line((24, -18.25), (24, -17.25))
            ThreePointArc((24, -17.25), (22.5, -15.75), (24, -14.25))
        make_face()
        with BuildLine():
            ThreePointArc((-24, -17), (-26.5, -14.5), (-24, -12))
            Line((-24, -12), (-27, -12))
            Line((-27, -12), (-27, -17))
            Line((-27, -17), (-24, -17))
        make_face()
        with BuildLine():
            ThreePointArc((-21.5, -14.5), (-22.232233047, -12.732233047), (-24, -12))
            Line((-24, -12), (-24, -13))
            ThreePointArc((-24, -13), (-22.939339828, -13.439339828), (-22.5, -14.5))
            ThreePointArc((-22.5, -14.5), (-22.939339828, -15.560660172), (-24, -16))
            Line((-24, -16), (-24, -17))
            ThreePointArc((-24, -17), (-22.232233047, -16.267766953), (-21.5, -14.5))
        make_face()
        with BuildLine():
            Line((-24, -13), (-24, -12))
            ThreePointArc((-24, -12), (-26.5, -14.5), (-24, -17))
            Line((-24, -17), (-24, -16))
            ThreePointArc((-24, -16), (-25.5, -14.5), (-24, -13))
        make_face()
        with BuildLine():
            ThreePointArc((-21.5, -14.5), (-22.232233047, -12.732233047), (-24, -12))
            Line((-24, -12), (-24, -13))
            ThreePointArc((-24, -13), (-22.939339828, -13.439339828), (-22.5, -14.5))
            ThreePointArc((-22.5, -14.5), (-22.939339828, -15.560660172), (-24, -16))
            Line((-24, -16), (-24, -17))
            ThreePointArc((-24, -17), (-22.232233047, -16.267766953), (-21.5, -14.5))
        make_face()
        with BuildLine():
            Line((-24, -13), (-24, -12))
            ThreePointArc((-24, -12), (-26.5, -14.5), (-24, -17))
            Line((-24, -17), (-24, -16))
            ThreePointArc((-24, -16), (-25.5, -14.5), (-24, -13))
        make_face()
    extrude(amount=-BOSS_EXTRUDE7_DEPTH)

    # Sketch11 → Cut-Extrude2 (cut, through all)
    with BuildSketch(Plane.XZ.offset(5)):
        with Locations((-28, 0.325)):
            Rectangle(SKETCH11_W, SKETCH11_H)
    extrude(amount=-CUT_EXTRUDE2_DEPTH, mode=Mode.SUBTRACT)

    # Sketch12 → Boss-Extrude8 (add)
    with BuildSketch(Plane.XZ):
        with Locations((-26.15, 0.325)):
            Rectangle(SKETCH12_W, SKETCH12_H)
    extrude(amount=BOSS_EXTRUDE8_DEPTH)

    # Sketch13 → Boss-Extrude9 (add)
    with BuildSketch(Plane.XZ.offset(5)):
        with Locations((29.7, 0.375)):
            Rectangle(SKETCH13_W, SKETCH13_H)
    extrude(amount=-BOSS_EXTRUDE9_DEPTH)

    # Sketch14 → Boss-Extrude10 (add)
    with BuildSketch(Plane.XZ.offset(2.7)):
        with Locations((-10.75, 36.75)):
            Rectangle(SKETCH14_W, SKETCH14_H)
    extrude(amount=-BOSS_EXTRUDE10_DEPTH)

    # Sketch15 → Cut-Extrude3 (cut, through all)
    with BuildSketch(Plane.XZ):
        Polygon((-29, 40.5), (-29, 37.5), (-14.5, 37.5), (-12, 40), (22.5, 40), (24.5, 38), (29, 38), (29, 40.5), align=None)
    extrude(amount=-CUT_EXTRUDE3_DEPTH, mode=Mode.SUBTRACT)

    # Sketch17 → Cut-Extrude4 (cut)
    with BuildSketch(Plane.XZ.offset(5)):
        with Locations((3.25, 38.145)):
            Rectangle(SKETCH17_W, SKETCH17_H)
        with Locations((19.75, 38.145)):
            Rectangle(SKETCH17_W_2, SKETCH17_H)
        with Locations((8.25, -30.145)):
            Rectangle(SKETCH17_W_3, SKETCH17_H)
        with Locations((-18.75, -30.145)):
            Rectangle(SKETCH17_W_4, SKETCH17_H)
        with Locations((-10.75, 38.145)):
            Rectangle(SKETCH17_W_5, SKETCH17_H)
    extrude(amount=-CUT_EXTRUDE4_DEPTH, mode=Mode.SUBTRACT)


solid = part.part
